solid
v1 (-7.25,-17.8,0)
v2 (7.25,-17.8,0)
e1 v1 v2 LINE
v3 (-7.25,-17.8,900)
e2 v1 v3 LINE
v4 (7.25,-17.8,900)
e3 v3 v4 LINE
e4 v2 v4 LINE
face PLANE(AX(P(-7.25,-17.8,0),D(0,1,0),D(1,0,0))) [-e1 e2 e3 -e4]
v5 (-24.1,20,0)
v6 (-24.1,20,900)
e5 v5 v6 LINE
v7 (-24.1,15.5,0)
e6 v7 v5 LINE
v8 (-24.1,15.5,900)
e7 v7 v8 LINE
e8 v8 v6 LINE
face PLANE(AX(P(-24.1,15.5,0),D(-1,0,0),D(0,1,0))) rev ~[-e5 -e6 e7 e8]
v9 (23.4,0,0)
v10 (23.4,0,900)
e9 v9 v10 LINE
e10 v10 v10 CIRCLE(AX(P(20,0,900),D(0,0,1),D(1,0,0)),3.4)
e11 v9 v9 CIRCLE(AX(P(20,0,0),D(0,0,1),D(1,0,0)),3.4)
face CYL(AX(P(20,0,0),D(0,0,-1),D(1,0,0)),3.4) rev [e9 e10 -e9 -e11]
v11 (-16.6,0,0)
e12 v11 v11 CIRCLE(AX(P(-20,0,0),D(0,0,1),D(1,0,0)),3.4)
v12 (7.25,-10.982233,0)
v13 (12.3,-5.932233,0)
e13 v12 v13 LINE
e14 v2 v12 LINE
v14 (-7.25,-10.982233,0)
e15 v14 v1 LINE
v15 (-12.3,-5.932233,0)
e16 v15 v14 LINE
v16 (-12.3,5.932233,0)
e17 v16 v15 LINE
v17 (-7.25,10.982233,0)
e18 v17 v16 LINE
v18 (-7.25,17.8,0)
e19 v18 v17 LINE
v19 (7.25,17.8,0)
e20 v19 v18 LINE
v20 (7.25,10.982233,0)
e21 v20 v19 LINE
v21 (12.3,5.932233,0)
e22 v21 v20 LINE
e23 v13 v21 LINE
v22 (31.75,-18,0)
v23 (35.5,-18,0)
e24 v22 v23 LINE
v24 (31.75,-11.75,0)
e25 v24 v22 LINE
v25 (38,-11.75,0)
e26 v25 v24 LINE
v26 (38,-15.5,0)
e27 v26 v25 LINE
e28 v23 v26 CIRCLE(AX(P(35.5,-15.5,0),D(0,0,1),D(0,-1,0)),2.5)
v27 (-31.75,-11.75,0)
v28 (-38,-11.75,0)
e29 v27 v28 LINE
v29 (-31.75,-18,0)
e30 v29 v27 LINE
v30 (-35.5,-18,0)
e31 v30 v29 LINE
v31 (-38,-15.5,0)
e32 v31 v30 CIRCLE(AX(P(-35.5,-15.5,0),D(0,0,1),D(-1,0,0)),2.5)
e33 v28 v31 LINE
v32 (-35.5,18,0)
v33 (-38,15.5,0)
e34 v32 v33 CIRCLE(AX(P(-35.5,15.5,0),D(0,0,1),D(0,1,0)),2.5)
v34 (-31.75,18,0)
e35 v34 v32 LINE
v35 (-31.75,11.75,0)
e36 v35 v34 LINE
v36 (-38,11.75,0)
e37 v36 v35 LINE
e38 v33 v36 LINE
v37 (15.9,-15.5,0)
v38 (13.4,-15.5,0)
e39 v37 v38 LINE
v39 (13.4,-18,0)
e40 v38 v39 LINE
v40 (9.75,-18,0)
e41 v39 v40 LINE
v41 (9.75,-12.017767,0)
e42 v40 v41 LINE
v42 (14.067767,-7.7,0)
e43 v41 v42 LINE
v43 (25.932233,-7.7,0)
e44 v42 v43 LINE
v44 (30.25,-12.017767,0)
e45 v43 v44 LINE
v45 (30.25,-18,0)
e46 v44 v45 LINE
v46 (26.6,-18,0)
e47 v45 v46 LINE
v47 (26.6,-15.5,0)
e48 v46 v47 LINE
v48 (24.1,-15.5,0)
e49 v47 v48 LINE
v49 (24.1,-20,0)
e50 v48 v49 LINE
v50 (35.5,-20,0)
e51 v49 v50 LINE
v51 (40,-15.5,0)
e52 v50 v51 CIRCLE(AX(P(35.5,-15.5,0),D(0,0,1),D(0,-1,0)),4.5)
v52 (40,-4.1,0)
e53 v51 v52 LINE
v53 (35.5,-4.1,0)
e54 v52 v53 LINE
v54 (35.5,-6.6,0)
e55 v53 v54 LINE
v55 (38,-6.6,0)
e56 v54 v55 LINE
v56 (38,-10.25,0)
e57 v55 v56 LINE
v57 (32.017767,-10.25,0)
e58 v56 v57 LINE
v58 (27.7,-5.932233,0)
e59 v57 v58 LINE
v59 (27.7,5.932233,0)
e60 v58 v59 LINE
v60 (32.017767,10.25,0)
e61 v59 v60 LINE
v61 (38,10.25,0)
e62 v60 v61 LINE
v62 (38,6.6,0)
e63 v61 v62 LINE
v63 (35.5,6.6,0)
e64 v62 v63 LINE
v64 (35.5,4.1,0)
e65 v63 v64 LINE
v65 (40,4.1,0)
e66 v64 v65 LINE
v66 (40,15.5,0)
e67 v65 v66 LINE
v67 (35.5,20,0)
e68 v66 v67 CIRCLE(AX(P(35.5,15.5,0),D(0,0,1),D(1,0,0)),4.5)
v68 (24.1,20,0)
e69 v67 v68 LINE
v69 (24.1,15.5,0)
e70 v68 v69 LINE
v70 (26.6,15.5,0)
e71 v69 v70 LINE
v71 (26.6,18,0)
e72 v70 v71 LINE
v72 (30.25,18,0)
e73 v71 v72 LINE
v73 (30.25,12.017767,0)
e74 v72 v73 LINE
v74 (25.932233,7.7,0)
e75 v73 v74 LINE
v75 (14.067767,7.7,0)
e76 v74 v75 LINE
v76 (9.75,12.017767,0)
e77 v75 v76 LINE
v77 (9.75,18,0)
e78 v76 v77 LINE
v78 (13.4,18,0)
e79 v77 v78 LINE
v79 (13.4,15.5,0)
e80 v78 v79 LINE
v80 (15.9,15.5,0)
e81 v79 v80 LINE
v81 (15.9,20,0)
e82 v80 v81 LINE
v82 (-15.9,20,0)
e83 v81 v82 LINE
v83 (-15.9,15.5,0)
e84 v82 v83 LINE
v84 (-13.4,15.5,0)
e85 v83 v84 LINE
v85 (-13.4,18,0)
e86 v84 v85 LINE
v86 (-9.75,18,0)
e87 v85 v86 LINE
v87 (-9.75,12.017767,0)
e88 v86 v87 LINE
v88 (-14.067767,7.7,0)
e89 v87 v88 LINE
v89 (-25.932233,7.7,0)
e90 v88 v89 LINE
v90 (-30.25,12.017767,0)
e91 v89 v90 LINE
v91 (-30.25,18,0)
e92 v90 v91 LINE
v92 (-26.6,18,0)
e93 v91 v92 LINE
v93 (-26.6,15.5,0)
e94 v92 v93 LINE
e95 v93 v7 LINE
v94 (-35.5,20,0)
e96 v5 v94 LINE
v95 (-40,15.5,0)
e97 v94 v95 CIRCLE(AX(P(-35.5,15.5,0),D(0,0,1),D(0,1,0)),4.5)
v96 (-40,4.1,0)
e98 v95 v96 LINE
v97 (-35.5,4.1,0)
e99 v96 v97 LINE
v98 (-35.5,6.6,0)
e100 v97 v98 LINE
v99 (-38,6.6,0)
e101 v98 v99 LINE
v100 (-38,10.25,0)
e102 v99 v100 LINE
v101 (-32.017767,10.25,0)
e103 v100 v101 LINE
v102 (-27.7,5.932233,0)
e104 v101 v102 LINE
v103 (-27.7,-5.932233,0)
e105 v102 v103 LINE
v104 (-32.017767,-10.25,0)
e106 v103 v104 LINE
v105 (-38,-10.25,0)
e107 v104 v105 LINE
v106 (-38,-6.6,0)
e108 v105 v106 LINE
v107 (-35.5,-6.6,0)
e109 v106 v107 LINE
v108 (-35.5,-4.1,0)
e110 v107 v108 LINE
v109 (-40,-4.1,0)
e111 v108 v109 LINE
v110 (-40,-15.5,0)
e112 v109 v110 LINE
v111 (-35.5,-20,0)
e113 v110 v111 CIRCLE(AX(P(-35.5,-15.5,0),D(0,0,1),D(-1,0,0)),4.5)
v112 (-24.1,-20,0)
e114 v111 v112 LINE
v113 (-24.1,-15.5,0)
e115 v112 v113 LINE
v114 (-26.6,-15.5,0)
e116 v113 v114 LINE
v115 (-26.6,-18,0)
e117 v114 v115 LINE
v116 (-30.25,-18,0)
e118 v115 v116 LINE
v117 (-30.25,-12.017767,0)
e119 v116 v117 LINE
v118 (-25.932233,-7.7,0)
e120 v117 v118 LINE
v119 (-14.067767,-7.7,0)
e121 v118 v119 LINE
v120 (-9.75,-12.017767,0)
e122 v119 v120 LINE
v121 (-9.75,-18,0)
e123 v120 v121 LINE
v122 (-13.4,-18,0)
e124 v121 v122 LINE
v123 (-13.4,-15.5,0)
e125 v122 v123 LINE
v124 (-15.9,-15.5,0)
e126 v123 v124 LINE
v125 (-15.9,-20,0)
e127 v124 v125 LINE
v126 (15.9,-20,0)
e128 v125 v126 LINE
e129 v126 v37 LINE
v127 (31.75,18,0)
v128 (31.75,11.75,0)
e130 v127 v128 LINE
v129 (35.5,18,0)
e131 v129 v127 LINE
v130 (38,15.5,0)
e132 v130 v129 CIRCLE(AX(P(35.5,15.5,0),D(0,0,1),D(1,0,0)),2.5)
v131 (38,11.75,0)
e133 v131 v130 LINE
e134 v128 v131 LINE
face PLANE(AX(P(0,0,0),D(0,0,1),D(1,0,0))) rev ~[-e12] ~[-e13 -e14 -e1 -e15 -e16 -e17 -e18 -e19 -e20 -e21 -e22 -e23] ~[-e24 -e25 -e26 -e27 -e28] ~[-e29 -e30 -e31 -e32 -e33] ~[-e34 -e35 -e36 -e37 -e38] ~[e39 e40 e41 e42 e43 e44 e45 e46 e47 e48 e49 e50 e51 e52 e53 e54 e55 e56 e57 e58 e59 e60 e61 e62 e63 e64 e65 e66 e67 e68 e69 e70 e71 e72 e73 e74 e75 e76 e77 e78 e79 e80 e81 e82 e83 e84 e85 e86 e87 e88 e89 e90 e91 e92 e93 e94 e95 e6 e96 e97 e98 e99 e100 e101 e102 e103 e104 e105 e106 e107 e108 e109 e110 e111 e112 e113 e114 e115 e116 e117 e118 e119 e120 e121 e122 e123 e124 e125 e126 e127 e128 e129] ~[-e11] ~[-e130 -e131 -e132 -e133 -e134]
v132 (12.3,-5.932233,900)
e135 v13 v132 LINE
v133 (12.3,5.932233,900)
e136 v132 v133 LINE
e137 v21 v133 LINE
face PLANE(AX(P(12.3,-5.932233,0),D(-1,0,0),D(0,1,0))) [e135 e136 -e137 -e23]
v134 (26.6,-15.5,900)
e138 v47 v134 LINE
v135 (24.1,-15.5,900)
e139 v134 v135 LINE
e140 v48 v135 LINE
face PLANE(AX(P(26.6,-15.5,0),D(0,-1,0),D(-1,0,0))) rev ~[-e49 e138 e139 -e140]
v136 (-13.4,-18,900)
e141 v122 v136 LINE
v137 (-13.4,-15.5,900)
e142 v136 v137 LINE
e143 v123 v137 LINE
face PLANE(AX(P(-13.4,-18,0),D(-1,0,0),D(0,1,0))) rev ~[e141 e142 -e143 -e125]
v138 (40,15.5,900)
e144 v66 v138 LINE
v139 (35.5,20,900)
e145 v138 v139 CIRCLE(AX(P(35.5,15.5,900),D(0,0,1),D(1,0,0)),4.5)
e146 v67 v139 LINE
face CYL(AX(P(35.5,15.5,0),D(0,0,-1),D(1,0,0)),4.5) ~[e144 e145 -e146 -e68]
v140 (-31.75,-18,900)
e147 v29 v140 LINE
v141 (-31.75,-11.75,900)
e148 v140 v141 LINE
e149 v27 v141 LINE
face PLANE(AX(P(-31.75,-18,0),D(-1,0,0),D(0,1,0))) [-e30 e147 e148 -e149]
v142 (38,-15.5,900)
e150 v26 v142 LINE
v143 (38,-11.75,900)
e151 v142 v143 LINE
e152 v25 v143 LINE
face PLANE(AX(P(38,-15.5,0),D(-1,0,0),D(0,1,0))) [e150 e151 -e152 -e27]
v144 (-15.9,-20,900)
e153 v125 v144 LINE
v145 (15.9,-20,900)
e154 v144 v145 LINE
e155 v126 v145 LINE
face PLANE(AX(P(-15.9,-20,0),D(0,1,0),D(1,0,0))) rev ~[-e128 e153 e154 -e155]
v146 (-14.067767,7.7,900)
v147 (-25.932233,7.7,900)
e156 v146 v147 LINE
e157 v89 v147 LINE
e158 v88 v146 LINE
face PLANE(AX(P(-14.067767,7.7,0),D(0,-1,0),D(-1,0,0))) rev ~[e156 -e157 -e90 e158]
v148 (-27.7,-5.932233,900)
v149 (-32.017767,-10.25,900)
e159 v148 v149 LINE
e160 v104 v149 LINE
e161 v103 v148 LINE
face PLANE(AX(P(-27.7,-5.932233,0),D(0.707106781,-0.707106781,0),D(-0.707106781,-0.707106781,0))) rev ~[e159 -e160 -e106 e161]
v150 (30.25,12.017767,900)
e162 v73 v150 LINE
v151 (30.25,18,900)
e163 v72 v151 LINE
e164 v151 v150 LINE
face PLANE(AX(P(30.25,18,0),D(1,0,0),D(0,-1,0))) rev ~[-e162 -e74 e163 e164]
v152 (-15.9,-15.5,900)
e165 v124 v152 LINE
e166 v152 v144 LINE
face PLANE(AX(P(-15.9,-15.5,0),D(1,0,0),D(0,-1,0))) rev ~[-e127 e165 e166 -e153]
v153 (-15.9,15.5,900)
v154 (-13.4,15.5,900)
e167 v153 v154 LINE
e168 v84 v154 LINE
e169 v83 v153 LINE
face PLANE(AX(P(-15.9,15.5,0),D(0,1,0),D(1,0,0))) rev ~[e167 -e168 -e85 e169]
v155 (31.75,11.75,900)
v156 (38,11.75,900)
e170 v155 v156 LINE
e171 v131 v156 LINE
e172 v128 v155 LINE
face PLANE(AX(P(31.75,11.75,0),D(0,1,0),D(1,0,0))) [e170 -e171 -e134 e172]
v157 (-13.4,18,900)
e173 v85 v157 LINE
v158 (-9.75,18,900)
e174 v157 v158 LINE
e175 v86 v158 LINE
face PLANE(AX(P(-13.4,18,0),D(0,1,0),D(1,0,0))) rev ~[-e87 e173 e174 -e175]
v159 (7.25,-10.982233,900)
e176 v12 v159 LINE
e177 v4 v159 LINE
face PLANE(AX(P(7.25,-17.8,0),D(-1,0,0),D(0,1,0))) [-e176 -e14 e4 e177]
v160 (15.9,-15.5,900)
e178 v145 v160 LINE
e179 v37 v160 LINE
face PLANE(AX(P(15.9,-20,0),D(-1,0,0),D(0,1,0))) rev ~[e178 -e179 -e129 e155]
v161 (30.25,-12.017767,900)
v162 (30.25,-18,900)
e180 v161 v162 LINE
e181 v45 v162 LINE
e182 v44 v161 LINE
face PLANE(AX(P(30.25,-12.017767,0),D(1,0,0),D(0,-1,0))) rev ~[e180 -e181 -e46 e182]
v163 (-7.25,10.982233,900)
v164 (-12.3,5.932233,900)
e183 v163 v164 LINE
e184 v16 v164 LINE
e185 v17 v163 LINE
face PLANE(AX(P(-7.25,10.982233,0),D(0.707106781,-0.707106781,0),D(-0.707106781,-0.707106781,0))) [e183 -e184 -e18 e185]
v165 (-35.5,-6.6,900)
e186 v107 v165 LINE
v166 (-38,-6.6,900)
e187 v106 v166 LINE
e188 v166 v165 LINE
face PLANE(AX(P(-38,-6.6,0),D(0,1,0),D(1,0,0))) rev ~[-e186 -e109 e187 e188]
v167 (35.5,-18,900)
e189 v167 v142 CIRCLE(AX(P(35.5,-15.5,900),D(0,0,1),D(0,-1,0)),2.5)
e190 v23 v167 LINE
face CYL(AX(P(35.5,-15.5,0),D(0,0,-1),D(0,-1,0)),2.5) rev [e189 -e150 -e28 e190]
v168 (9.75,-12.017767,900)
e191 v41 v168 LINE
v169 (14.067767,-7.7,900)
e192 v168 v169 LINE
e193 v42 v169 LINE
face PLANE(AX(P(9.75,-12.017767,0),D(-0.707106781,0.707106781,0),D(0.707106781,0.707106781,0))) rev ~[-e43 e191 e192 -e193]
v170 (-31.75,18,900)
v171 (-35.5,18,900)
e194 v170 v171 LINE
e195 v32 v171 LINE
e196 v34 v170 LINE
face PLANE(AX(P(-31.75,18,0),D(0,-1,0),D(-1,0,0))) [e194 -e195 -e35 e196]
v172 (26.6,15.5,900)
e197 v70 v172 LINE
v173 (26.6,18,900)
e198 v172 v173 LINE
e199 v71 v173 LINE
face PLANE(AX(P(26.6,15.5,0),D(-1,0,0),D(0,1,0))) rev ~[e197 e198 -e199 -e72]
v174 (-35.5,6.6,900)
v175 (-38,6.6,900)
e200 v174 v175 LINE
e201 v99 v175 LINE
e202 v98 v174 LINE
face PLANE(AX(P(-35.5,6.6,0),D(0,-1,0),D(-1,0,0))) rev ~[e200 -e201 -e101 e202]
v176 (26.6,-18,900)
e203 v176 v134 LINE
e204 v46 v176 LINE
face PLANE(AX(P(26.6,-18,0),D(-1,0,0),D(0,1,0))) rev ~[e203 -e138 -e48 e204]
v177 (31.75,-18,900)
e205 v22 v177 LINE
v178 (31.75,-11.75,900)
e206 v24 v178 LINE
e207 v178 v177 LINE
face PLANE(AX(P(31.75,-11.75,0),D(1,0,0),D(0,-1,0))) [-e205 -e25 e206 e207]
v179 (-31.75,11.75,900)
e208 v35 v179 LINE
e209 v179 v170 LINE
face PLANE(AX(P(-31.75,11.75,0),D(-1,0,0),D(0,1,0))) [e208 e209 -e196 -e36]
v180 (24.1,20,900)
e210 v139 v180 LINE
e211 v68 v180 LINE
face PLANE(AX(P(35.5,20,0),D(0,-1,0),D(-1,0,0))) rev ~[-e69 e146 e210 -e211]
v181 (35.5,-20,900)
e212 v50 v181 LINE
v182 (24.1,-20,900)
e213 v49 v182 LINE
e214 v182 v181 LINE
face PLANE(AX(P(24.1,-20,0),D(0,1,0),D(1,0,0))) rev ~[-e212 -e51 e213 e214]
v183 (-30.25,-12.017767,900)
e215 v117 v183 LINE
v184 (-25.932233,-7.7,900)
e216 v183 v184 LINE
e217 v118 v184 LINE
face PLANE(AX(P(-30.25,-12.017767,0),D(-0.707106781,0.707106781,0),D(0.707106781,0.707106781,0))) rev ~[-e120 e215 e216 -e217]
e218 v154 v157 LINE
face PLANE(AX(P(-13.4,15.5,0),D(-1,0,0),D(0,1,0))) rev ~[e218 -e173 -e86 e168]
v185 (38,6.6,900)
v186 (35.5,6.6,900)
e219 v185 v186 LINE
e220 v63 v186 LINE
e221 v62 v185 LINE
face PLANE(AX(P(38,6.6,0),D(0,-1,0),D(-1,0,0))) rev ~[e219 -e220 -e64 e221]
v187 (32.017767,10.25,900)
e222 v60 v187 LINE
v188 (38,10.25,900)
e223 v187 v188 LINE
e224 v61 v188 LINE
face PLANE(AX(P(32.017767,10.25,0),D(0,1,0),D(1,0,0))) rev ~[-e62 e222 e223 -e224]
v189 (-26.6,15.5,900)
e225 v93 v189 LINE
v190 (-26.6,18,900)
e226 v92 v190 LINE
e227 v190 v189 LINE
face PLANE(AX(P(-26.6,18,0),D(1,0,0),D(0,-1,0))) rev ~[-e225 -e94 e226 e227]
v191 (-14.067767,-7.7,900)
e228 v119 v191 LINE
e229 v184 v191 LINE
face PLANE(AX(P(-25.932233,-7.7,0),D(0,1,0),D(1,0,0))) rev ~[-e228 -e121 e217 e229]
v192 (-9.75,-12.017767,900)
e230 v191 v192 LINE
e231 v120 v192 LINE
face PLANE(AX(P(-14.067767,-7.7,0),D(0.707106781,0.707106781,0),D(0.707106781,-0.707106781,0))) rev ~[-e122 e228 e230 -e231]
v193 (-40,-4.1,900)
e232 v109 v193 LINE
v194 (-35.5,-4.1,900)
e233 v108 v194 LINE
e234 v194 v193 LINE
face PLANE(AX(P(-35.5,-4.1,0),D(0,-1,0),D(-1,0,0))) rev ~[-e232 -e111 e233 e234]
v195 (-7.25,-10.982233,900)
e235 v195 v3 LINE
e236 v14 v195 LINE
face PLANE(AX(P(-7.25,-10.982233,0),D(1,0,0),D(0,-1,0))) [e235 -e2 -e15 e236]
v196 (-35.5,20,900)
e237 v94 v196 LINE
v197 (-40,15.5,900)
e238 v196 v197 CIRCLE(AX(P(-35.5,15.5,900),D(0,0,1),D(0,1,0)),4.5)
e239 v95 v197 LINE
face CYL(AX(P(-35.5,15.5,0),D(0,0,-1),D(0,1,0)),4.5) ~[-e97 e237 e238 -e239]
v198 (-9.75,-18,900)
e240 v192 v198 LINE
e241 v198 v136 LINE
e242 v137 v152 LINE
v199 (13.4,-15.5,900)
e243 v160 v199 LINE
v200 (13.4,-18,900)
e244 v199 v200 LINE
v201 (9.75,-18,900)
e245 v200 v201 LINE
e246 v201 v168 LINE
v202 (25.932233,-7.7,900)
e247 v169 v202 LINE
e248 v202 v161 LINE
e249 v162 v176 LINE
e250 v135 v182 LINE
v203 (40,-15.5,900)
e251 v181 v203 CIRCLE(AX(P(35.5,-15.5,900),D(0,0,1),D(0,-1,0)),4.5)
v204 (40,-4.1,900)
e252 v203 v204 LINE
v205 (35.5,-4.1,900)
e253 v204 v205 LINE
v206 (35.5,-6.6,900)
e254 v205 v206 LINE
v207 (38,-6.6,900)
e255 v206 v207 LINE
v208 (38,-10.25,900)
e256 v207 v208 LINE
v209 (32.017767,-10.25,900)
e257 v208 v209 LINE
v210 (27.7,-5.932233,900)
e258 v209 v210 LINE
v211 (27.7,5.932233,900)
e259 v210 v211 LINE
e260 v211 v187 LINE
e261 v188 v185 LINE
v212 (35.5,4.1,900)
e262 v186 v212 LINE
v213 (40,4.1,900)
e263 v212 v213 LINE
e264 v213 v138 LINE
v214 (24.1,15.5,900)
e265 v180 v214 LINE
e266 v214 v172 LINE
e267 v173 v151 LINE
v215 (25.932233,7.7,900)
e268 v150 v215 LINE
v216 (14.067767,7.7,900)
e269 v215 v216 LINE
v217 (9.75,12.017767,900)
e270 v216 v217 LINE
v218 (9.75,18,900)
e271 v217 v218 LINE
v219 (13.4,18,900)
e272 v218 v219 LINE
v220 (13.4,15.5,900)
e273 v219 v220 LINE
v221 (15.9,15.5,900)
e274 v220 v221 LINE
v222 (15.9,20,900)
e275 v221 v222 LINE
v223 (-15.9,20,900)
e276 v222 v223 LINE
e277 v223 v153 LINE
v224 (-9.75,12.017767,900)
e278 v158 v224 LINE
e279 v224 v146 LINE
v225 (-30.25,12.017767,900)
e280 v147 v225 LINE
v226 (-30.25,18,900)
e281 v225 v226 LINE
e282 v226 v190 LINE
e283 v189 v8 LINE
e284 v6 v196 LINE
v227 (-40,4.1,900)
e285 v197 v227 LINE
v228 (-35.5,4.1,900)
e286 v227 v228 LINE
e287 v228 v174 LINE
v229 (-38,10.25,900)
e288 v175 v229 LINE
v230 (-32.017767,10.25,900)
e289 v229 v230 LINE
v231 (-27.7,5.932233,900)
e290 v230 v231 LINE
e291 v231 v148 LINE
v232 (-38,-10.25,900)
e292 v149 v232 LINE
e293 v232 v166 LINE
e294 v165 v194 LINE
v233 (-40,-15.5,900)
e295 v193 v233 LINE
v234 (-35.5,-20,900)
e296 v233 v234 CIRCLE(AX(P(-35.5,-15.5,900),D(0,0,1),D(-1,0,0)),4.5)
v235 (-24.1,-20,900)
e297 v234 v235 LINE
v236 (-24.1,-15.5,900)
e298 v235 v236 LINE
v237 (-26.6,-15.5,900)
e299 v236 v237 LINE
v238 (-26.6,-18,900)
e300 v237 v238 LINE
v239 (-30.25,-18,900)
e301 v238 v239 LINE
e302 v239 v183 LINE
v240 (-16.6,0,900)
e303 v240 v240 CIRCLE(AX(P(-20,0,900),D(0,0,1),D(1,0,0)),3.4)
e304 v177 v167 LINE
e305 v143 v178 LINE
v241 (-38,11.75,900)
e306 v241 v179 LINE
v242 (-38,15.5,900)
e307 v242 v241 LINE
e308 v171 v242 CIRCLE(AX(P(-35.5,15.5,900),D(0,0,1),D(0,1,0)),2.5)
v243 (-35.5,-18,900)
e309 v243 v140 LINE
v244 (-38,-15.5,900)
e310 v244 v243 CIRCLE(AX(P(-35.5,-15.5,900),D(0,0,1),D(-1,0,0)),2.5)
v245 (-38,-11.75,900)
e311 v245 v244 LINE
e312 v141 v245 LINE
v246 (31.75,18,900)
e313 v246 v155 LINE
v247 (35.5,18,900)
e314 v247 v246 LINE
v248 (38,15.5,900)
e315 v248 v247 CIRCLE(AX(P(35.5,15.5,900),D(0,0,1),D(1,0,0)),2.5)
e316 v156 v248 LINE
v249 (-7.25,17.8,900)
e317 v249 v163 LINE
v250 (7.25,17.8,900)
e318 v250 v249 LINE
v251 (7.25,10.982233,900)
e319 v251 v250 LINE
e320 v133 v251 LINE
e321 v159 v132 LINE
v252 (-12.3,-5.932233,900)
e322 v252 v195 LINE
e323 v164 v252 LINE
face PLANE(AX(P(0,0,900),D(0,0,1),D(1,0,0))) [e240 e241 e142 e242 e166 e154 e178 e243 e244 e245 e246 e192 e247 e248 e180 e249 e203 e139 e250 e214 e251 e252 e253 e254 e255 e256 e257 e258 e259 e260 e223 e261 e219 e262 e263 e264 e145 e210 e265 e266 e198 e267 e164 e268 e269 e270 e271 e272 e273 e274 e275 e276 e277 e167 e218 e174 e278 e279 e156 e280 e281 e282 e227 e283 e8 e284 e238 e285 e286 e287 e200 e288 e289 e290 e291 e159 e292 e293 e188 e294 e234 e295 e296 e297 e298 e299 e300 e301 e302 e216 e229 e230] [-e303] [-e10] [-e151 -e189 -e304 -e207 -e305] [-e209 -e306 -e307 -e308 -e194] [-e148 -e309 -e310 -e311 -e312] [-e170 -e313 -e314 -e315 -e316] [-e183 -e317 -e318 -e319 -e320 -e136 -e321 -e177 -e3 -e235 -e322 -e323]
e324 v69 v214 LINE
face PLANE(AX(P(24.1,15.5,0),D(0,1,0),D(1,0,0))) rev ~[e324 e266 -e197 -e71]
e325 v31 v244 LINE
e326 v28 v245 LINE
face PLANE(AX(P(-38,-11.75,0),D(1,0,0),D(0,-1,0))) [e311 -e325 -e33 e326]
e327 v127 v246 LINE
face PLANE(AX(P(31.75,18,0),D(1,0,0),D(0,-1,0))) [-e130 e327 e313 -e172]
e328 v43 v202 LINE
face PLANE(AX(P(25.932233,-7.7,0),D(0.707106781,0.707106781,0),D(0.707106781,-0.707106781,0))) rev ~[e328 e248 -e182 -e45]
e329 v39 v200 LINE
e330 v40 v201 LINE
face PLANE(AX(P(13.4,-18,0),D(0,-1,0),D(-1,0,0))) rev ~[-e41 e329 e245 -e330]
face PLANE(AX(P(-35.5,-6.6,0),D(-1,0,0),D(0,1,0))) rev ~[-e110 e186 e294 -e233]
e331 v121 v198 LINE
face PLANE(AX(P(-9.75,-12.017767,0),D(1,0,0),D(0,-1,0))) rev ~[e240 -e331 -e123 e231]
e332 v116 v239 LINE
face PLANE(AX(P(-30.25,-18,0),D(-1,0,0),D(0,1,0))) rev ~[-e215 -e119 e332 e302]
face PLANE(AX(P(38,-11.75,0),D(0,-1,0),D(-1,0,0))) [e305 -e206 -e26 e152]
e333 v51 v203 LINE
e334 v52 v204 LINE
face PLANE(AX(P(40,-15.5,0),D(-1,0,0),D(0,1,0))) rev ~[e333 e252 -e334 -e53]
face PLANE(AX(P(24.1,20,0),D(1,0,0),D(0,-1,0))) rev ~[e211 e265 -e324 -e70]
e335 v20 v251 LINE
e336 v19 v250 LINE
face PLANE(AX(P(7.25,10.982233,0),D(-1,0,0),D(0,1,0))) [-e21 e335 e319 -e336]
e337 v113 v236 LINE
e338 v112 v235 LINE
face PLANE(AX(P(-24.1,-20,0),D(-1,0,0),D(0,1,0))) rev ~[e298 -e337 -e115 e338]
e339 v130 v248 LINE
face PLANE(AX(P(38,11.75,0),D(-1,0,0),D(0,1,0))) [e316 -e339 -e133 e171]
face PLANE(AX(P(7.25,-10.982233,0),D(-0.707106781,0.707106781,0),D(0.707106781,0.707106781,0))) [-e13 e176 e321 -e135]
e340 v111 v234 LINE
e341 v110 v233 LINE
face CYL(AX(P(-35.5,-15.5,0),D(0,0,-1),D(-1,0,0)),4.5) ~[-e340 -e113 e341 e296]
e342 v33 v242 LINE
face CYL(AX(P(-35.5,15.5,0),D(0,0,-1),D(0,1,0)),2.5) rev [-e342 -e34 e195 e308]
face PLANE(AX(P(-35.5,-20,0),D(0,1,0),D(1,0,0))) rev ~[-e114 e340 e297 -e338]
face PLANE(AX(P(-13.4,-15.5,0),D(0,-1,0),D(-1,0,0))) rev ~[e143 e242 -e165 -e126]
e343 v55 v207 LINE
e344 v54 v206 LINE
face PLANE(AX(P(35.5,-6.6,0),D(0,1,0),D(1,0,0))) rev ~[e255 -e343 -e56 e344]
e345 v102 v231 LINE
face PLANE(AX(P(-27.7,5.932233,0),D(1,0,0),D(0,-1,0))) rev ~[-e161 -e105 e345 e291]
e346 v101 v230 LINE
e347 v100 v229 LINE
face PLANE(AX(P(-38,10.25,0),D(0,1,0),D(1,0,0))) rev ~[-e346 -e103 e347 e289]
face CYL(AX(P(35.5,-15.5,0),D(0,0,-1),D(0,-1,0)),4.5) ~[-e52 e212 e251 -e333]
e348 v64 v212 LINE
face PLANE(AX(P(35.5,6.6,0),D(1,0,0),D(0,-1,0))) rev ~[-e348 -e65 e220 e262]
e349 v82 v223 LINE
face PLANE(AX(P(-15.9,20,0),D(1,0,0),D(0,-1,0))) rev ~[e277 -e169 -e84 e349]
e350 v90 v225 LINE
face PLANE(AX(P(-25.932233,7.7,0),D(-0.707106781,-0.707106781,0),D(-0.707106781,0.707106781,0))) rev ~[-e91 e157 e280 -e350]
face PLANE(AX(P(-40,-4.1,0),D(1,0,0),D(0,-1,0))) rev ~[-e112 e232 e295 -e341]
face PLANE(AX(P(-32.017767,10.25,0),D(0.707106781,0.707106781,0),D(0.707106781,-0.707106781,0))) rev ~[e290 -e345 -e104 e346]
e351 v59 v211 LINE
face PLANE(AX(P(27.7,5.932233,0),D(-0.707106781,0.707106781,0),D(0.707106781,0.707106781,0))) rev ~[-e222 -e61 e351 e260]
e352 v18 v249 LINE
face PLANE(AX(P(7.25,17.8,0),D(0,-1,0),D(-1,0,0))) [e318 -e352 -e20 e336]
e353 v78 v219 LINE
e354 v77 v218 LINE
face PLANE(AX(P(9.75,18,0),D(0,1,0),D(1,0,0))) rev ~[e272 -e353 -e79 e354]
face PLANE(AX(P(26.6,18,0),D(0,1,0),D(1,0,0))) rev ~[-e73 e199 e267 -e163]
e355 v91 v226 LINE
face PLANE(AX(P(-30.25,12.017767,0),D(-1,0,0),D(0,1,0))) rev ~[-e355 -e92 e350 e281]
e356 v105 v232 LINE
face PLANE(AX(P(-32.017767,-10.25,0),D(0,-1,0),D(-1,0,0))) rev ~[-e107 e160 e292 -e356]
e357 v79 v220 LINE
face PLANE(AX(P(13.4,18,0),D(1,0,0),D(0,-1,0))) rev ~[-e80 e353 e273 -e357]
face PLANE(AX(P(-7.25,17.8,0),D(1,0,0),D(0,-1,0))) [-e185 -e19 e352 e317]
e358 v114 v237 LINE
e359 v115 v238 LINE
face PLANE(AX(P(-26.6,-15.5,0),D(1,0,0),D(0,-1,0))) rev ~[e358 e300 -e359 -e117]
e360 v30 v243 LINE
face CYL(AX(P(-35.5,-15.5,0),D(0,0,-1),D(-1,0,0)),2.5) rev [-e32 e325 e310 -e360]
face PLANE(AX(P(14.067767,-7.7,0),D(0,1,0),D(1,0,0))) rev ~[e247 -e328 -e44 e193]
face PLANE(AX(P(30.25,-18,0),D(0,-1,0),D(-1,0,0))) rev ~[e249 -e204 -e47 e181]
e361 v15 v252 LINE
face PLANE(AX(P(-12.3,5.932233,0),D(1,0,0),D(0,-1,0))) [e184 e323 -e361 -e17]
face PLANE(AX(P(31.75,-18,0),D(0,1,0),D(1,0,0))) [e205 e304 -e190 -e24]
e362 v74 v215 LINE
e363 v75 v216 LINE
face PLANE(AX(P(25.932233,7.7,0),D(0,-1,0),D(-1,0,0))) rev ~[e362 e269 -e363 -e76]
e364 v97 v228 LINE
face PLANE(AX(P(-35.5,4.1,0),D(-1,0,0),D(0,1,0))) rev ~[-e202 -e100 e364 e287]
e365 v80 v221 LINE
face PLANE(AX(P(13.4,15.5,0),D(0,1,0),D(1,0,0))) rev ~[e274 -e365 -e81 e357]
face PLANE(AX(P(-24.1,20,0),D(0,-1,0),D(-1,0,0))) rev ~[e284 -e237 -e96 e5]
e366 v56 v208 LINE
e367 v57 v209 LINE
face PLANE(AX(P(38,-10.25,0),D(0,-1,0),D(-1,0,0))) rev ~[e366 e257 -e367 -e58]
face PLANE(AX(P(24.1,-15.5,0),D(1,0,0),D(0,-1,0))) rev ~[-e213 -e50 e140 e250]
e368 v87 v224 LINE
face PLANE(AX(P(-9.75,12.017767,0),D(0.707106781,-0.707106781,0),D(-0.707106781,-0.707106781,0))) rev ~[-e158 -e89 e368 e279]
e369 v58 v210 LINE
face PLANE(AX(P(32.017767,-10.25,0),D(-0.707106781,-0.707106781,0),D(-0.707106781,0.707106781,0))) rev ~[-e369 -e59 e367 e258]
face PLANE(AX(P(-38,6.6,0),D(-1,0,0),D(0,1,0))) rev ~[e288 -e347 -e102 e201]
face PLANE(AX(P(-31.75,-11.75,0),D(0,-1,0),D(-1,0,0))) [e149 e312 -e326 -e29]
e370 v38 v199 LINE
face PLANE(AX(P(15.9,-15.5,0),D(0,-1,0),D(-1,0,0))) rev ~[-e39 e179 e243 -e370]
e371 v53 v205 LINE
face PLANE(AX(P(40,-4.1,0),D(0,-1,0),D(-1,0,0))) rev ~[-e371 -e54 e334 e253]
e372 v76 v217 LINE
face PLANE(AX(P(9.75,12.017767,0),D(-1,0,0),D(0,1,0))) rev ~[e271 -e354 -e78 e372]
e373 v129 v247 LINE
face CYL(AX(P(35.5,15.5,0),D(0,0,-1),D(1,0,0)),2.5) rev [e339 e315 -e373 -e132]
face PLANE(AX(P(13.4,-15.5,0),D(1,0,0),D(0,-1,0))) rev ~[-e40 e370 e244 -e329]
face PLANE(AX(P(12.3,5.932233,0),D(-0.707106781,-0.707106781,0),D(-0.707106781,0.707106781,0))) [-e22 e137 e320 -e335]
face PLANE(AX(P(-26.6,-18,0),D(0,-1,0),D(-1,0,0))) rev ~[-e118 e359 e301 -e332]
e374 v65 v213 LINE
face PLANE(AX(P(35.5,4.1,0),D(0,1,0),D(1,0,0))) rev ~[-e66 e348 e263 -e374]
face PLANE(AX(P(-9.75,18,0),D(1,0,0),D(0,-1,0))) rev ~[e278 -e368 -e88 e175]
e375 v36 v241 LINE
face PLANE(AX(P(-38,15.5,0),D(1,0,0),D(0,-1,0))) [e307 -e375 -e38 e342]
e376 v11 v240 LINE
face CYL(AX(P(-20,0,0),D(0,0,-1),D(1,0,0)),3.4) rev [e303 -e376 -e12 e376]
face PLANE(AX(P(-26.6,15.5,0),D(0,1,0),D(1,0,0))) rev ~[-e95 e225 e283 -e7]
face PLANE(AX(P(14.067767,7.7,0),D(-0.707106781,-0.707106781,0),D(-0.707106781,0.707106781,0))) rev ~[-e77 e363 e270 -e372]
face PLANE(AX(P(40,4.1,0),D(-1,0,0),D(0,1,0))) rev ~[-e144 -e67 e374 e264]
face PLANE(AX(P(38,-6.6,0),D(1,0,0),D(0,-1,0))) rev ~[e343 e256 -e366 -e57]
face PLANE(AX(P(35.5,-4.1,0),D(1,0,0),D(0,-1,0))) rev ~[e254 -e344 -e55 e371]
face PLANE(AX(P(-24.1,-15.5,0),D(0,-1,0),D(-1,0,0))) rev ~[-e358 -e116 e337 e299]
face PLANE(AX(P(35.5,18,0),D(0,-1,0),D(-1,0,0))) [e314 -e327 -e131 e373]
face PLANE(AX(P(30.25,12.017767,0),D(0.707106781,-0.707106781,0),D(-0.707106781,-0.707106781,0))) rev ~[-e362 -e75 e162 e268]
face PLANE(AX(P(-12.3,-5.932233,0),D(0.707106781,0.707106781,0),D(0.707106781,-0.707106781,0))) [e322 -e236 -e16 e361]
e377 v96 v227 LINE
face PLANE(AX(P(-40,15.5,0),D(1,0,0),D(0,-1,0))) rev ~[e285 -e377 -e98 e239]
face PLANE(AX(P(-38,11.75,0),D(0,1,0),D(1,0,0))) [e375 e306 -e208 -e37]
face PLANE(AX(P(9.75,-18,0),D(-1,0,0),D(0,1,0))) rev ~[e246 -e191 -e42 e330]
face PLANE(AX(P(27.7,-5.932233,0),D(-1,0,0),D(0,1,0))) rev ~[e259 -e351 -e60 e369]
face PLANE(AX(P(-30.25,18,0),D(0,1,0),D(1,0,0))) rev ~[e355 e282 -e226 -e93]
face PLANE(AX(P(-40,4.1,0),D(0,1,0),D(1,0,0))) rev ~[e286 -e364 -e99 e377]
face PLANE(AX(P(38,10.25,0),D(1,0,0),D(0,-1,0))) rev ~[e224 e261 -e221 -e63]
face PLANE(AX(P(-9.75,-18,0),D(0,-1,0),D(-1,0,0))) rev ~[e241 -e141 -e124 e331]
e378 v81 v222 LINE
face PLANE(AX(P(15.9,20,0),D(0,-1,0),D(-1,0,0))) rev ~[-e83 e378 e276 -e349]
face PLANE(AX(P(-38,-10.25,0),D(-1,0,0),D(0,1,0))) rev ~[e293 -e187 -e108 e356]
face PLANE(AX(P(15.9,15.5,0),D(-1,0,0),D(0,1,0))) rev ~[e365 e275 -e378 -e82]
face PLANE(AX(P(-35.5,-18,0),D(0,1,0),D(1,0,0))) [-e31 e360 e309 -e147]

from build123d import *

# Parameters (mm, degrees)
SKETCH1_R           = 3.4
BOSS_EXTRUDE1_DEPTH = 900


with BuildPart() as part:
    # Sketch1 → Boss-Extrude1 (new body)
    with BuildSketch(Plane.XY):
        with BuildLine():
            Line((24.1, -20), (35.5, -20))
            ThreePointArc((35.5, -20), (38.681980515, -18.681980515), (40, -15.5))
            Line((40, -15.5), (40, -4.1))
            Line((40, -4.1), (35.5, -4.1))
            Line((35.5, -4.1), (35.5, -6.6))
            Line((35.5, -6.6), (38, -6.6))
            Line((38, -6.6), (38, -10.25))
            Line((38, -10.25), (32.017766953, -10.25))
            Line((32.017766953, -10.25), (27.7, -5.932233047))
            Line((27.7, -5.932233047), (27.7, 5.932233047))
            Line((27.7, 5.932233047), (32.017766953, 10.25))
            Line((32.017766953, 10.25), (38, 10.25))
            Line((38, 10.25), (38, 6.6))
            Line((38, 6.6), (35.5, 6.6))
            Line((35.5, 6.6), (35.5, 4.1))
            Line((35.5, 4.1), (40, 4.1))
            Line((40, 4.1), (40, 15.5))
            ThreePointArc((40, 15.5), (38.681980515, 18.681980515), (35.5, 20))
            Line((35.5, 20), (24.1, 20))
            Line((24.1, 20), (24.1, 15.5))
            Line((24.1, 15.5), (26.6, 15.5))
            Line((26.6, 15.5), (26.6, 18))
            Line((26.6, 18), (30.25, 18))
            Line((30.25, 18), (30.25, 12.017766953))
            Line((30.25, 12.017766953), (25.932233047, 7.7))
            Line((25.932233047, 7.7), (14.067766953, 7.7))
            Line((14.067766953, 7.7), (9.75, 12.017766953))
            Line((9.75, 12.017766953), (9.75, 18))
            Line((9.75, 18), (13.4, 18))
            Line((13.4, 18), (13.4, 15.5))
            Line((13.4, 15.5), (15.9, 15.5))
            Line((15.9, 15.5), (15.9, 20))
            Line((15.9, 20), (-15.9, 20))
            Line((-15.9, 20), (-15.9, 15.5))
            Line((-15.9, 15.5), (-13.4, 15.5))
            Line((-13.4, 15.5), (-13.4, 18))
            Line((-13.4, 18), (-9.75, 18))
            Line((-9.75, 18), (-9.75, 12.017766953))
            Line((-9.75, 12.017766953), (-14.067766953, 7.7))
            Line((-14.067766953, 7.7), (-25.932233047, 7.7))
            Line((-25.932233047, 7.7), (-30.25, 12.017766953))
            Line((-30.25, 12.017766953), (-30.25, 18))
            Line((-30.25, 18), (-26.6, 18))
            Line((-26.6, 18), (-26.6, 15.5))
            Line((-26.6, 15.5), (-24.1, 15.5))
            Line((-24.1, 15.5), (-24.1, 20))
            Line((-24.1, 20), (-35.5, 20))
            ThreePointArc((-35.5, 20), (-38.681980515, 18.681980515), (-40, 15.5))
            Line((-40, 15.5), (-40, 4.1))
            Line((-40, 4.1), (-35.5, 4.1))
            Line((-35.5, 4.1), (-35.5, 6.6))
            Line((-35.5, 6.6), (-38, 6.6))
            Line((-38, 6.6), (-38, 10.25))
            Line((-38, 10.25), (-32.017766953, 10.25))
            Line((-32.017766953, 10.25), (-27.7, 5.932233047))
            Line((-27.7, 5.932233047), (-27.7, -5.932233047))
            Line((-27.7, -5.932233047), (-32.017766953, -10.25))
            Line((-32.017766953, -10.25), (-38, -10.25))
            Line((-38, -10.25), (-38, -6.6))
            Line((-38, -6.6), (-35.5, -6.6))
            Line((-35.5, -6.6), (-35.5, -4.1))
            Line((-35.5, -4.1), (-40, -4.1))
            Line((-40, -4.1), (-40, -15.5))
            ThreePointArc((-40, -15.5), (-38.681980515, -18.681980515), (-35.5, -20))
            Line((-35.5, -20), (-24.1, -20))
            Line((-24.1, -20), (-24.1, -15.5))
            Line((-24.1, -15.5), (-26.6, -15.5))
            Line((-26.6, -15.5), (-26.6, -18))
            Line((-26.6, -18), (-30.25, -18))
            Line((-30.25, -18), (-30.25, -12.017766953))
            Line((-30.25, -12.017766953), (-25.932233047, -7.7))
            Line((-25.932233047, -7.7), (-14.067766953, -7.7))
            Line((-14.067766953, -7.7), (-9.75, -12.017766953))
            Line((-9.75, -12.017766953), (-9.75, -18))
            Line((-9.75, -18), (-13.4, -18))
            Line((-13.4, -18), (-13.4, -15.5))
            Line((-13.4, -15.5), (-15.9, -15.5))
            Line((-15.9, -15.5), (-15.9, -20))
            Line((-15.9, -20), (15.9, -20))
            Line((15.9, -20), (15.9, -15.5))
            Line((15.9, -15.5), (13.4, -15.5))
            Line((13.4, -15.5), (13.4, -18))
            Line((13.4, -18), (9.75, -18))
            Line((9.75, -18), (9.75, -12.017766953))
            Line((9.75, -12.017766953), (14.067766953, -7.7))
            Line((14.067766953, -7.7), (25.932233047, -7.7))
            Line((25.932233047, -7.7), (30.25, -12.017766953))
            Line((30.25, -12.017766953), (30.25, -18))
            Line((30.25, -18), (26.6, -18))
            Line((26.6, -18), (26.6, -15.5))
            Line((26.6, -15.5), (24.1, -15.5))
            Line((24.1, -15.5), (24.1, -20))
        make_face()
        with Locations((-20, 0)):
            Circle(SKETCH1_R, mode=Mode.SUBTRACT)
        with Locations((20, 0)):
            Circle(SKETCH1_R, mode=Mode.SUBTRACT)
        with BuildLine():
            Line((38, -15.5), (38, -11.75))
            Line((38, -11.75), (31.75, -11.75))
            Line((31.75, -11.75), (31.75, -18))
            Line((31.75, -18), (35.5, -18))
            ThreePointArc((35.5, -18), (37.267766953, -17.267766953), (38, -15.5))
        make_face(mode=Mode.SUBTRACT)
        with BuildLine():
            Line((-38, 15.5), (-38, 11.75))
            Line((-38, 11.75), (-31.75, 11.75))
            Line((-31.75, 11.75), (-31.75, 18))
            Line((-31.75, 18), (-35.5, 18))
            ThreePointArc((-35.5, 18), (-37.267766953, 17.267766953), (-38, 15.5))
        make_face(mode=Mode.SUBTRACT)
        Polygon((-7.25, -10.982233047), (-7.25, -17.8), (7.25, -17.8), (7.25, -10.982233047), (12.3, -5.932233047), (12.3, 5.932233047), (7.25, 10.982233047), (7.25, 17.8), (-7.25, 17.8), (-7.25, 10.982233047), (-12.3, 5.932233047), (-12.3, -5.932233047), align=None, mode=Mode.SUBTRACT)
        with BuildLine():
            Line((-35.5, -18), (-31.75, -18))
            Line((-31.75, -18), (-31.75, -11.75))
            Line((-31.75, -11.75), (-38, -11.75))
            Line((-38, -11.75), (-38, -15.5))
            ThreePointArc((-38, -15.5), (-37.267766953, -17.267766953), (-35.5, -18))
        make_face(mode=Mode.SUBTRACT)
        with BuildLine():
            Line((35.5, 18), (31.75, 18))
            Line((31.75, 18), (31.75, 11.75))
            Line((31.75, 11.75), (38, 11.75))
            Line((38, 11.75), (38, 15.5))
            ThreePointArc((38, 15.5), (37.267766953, 17.267766953), (35.5, 18))
        make_face(mode=Mode.SUBTRACT)
    extrude(amount=BOSS_EXTRUDE1_DEPTH)


solid = part.part
